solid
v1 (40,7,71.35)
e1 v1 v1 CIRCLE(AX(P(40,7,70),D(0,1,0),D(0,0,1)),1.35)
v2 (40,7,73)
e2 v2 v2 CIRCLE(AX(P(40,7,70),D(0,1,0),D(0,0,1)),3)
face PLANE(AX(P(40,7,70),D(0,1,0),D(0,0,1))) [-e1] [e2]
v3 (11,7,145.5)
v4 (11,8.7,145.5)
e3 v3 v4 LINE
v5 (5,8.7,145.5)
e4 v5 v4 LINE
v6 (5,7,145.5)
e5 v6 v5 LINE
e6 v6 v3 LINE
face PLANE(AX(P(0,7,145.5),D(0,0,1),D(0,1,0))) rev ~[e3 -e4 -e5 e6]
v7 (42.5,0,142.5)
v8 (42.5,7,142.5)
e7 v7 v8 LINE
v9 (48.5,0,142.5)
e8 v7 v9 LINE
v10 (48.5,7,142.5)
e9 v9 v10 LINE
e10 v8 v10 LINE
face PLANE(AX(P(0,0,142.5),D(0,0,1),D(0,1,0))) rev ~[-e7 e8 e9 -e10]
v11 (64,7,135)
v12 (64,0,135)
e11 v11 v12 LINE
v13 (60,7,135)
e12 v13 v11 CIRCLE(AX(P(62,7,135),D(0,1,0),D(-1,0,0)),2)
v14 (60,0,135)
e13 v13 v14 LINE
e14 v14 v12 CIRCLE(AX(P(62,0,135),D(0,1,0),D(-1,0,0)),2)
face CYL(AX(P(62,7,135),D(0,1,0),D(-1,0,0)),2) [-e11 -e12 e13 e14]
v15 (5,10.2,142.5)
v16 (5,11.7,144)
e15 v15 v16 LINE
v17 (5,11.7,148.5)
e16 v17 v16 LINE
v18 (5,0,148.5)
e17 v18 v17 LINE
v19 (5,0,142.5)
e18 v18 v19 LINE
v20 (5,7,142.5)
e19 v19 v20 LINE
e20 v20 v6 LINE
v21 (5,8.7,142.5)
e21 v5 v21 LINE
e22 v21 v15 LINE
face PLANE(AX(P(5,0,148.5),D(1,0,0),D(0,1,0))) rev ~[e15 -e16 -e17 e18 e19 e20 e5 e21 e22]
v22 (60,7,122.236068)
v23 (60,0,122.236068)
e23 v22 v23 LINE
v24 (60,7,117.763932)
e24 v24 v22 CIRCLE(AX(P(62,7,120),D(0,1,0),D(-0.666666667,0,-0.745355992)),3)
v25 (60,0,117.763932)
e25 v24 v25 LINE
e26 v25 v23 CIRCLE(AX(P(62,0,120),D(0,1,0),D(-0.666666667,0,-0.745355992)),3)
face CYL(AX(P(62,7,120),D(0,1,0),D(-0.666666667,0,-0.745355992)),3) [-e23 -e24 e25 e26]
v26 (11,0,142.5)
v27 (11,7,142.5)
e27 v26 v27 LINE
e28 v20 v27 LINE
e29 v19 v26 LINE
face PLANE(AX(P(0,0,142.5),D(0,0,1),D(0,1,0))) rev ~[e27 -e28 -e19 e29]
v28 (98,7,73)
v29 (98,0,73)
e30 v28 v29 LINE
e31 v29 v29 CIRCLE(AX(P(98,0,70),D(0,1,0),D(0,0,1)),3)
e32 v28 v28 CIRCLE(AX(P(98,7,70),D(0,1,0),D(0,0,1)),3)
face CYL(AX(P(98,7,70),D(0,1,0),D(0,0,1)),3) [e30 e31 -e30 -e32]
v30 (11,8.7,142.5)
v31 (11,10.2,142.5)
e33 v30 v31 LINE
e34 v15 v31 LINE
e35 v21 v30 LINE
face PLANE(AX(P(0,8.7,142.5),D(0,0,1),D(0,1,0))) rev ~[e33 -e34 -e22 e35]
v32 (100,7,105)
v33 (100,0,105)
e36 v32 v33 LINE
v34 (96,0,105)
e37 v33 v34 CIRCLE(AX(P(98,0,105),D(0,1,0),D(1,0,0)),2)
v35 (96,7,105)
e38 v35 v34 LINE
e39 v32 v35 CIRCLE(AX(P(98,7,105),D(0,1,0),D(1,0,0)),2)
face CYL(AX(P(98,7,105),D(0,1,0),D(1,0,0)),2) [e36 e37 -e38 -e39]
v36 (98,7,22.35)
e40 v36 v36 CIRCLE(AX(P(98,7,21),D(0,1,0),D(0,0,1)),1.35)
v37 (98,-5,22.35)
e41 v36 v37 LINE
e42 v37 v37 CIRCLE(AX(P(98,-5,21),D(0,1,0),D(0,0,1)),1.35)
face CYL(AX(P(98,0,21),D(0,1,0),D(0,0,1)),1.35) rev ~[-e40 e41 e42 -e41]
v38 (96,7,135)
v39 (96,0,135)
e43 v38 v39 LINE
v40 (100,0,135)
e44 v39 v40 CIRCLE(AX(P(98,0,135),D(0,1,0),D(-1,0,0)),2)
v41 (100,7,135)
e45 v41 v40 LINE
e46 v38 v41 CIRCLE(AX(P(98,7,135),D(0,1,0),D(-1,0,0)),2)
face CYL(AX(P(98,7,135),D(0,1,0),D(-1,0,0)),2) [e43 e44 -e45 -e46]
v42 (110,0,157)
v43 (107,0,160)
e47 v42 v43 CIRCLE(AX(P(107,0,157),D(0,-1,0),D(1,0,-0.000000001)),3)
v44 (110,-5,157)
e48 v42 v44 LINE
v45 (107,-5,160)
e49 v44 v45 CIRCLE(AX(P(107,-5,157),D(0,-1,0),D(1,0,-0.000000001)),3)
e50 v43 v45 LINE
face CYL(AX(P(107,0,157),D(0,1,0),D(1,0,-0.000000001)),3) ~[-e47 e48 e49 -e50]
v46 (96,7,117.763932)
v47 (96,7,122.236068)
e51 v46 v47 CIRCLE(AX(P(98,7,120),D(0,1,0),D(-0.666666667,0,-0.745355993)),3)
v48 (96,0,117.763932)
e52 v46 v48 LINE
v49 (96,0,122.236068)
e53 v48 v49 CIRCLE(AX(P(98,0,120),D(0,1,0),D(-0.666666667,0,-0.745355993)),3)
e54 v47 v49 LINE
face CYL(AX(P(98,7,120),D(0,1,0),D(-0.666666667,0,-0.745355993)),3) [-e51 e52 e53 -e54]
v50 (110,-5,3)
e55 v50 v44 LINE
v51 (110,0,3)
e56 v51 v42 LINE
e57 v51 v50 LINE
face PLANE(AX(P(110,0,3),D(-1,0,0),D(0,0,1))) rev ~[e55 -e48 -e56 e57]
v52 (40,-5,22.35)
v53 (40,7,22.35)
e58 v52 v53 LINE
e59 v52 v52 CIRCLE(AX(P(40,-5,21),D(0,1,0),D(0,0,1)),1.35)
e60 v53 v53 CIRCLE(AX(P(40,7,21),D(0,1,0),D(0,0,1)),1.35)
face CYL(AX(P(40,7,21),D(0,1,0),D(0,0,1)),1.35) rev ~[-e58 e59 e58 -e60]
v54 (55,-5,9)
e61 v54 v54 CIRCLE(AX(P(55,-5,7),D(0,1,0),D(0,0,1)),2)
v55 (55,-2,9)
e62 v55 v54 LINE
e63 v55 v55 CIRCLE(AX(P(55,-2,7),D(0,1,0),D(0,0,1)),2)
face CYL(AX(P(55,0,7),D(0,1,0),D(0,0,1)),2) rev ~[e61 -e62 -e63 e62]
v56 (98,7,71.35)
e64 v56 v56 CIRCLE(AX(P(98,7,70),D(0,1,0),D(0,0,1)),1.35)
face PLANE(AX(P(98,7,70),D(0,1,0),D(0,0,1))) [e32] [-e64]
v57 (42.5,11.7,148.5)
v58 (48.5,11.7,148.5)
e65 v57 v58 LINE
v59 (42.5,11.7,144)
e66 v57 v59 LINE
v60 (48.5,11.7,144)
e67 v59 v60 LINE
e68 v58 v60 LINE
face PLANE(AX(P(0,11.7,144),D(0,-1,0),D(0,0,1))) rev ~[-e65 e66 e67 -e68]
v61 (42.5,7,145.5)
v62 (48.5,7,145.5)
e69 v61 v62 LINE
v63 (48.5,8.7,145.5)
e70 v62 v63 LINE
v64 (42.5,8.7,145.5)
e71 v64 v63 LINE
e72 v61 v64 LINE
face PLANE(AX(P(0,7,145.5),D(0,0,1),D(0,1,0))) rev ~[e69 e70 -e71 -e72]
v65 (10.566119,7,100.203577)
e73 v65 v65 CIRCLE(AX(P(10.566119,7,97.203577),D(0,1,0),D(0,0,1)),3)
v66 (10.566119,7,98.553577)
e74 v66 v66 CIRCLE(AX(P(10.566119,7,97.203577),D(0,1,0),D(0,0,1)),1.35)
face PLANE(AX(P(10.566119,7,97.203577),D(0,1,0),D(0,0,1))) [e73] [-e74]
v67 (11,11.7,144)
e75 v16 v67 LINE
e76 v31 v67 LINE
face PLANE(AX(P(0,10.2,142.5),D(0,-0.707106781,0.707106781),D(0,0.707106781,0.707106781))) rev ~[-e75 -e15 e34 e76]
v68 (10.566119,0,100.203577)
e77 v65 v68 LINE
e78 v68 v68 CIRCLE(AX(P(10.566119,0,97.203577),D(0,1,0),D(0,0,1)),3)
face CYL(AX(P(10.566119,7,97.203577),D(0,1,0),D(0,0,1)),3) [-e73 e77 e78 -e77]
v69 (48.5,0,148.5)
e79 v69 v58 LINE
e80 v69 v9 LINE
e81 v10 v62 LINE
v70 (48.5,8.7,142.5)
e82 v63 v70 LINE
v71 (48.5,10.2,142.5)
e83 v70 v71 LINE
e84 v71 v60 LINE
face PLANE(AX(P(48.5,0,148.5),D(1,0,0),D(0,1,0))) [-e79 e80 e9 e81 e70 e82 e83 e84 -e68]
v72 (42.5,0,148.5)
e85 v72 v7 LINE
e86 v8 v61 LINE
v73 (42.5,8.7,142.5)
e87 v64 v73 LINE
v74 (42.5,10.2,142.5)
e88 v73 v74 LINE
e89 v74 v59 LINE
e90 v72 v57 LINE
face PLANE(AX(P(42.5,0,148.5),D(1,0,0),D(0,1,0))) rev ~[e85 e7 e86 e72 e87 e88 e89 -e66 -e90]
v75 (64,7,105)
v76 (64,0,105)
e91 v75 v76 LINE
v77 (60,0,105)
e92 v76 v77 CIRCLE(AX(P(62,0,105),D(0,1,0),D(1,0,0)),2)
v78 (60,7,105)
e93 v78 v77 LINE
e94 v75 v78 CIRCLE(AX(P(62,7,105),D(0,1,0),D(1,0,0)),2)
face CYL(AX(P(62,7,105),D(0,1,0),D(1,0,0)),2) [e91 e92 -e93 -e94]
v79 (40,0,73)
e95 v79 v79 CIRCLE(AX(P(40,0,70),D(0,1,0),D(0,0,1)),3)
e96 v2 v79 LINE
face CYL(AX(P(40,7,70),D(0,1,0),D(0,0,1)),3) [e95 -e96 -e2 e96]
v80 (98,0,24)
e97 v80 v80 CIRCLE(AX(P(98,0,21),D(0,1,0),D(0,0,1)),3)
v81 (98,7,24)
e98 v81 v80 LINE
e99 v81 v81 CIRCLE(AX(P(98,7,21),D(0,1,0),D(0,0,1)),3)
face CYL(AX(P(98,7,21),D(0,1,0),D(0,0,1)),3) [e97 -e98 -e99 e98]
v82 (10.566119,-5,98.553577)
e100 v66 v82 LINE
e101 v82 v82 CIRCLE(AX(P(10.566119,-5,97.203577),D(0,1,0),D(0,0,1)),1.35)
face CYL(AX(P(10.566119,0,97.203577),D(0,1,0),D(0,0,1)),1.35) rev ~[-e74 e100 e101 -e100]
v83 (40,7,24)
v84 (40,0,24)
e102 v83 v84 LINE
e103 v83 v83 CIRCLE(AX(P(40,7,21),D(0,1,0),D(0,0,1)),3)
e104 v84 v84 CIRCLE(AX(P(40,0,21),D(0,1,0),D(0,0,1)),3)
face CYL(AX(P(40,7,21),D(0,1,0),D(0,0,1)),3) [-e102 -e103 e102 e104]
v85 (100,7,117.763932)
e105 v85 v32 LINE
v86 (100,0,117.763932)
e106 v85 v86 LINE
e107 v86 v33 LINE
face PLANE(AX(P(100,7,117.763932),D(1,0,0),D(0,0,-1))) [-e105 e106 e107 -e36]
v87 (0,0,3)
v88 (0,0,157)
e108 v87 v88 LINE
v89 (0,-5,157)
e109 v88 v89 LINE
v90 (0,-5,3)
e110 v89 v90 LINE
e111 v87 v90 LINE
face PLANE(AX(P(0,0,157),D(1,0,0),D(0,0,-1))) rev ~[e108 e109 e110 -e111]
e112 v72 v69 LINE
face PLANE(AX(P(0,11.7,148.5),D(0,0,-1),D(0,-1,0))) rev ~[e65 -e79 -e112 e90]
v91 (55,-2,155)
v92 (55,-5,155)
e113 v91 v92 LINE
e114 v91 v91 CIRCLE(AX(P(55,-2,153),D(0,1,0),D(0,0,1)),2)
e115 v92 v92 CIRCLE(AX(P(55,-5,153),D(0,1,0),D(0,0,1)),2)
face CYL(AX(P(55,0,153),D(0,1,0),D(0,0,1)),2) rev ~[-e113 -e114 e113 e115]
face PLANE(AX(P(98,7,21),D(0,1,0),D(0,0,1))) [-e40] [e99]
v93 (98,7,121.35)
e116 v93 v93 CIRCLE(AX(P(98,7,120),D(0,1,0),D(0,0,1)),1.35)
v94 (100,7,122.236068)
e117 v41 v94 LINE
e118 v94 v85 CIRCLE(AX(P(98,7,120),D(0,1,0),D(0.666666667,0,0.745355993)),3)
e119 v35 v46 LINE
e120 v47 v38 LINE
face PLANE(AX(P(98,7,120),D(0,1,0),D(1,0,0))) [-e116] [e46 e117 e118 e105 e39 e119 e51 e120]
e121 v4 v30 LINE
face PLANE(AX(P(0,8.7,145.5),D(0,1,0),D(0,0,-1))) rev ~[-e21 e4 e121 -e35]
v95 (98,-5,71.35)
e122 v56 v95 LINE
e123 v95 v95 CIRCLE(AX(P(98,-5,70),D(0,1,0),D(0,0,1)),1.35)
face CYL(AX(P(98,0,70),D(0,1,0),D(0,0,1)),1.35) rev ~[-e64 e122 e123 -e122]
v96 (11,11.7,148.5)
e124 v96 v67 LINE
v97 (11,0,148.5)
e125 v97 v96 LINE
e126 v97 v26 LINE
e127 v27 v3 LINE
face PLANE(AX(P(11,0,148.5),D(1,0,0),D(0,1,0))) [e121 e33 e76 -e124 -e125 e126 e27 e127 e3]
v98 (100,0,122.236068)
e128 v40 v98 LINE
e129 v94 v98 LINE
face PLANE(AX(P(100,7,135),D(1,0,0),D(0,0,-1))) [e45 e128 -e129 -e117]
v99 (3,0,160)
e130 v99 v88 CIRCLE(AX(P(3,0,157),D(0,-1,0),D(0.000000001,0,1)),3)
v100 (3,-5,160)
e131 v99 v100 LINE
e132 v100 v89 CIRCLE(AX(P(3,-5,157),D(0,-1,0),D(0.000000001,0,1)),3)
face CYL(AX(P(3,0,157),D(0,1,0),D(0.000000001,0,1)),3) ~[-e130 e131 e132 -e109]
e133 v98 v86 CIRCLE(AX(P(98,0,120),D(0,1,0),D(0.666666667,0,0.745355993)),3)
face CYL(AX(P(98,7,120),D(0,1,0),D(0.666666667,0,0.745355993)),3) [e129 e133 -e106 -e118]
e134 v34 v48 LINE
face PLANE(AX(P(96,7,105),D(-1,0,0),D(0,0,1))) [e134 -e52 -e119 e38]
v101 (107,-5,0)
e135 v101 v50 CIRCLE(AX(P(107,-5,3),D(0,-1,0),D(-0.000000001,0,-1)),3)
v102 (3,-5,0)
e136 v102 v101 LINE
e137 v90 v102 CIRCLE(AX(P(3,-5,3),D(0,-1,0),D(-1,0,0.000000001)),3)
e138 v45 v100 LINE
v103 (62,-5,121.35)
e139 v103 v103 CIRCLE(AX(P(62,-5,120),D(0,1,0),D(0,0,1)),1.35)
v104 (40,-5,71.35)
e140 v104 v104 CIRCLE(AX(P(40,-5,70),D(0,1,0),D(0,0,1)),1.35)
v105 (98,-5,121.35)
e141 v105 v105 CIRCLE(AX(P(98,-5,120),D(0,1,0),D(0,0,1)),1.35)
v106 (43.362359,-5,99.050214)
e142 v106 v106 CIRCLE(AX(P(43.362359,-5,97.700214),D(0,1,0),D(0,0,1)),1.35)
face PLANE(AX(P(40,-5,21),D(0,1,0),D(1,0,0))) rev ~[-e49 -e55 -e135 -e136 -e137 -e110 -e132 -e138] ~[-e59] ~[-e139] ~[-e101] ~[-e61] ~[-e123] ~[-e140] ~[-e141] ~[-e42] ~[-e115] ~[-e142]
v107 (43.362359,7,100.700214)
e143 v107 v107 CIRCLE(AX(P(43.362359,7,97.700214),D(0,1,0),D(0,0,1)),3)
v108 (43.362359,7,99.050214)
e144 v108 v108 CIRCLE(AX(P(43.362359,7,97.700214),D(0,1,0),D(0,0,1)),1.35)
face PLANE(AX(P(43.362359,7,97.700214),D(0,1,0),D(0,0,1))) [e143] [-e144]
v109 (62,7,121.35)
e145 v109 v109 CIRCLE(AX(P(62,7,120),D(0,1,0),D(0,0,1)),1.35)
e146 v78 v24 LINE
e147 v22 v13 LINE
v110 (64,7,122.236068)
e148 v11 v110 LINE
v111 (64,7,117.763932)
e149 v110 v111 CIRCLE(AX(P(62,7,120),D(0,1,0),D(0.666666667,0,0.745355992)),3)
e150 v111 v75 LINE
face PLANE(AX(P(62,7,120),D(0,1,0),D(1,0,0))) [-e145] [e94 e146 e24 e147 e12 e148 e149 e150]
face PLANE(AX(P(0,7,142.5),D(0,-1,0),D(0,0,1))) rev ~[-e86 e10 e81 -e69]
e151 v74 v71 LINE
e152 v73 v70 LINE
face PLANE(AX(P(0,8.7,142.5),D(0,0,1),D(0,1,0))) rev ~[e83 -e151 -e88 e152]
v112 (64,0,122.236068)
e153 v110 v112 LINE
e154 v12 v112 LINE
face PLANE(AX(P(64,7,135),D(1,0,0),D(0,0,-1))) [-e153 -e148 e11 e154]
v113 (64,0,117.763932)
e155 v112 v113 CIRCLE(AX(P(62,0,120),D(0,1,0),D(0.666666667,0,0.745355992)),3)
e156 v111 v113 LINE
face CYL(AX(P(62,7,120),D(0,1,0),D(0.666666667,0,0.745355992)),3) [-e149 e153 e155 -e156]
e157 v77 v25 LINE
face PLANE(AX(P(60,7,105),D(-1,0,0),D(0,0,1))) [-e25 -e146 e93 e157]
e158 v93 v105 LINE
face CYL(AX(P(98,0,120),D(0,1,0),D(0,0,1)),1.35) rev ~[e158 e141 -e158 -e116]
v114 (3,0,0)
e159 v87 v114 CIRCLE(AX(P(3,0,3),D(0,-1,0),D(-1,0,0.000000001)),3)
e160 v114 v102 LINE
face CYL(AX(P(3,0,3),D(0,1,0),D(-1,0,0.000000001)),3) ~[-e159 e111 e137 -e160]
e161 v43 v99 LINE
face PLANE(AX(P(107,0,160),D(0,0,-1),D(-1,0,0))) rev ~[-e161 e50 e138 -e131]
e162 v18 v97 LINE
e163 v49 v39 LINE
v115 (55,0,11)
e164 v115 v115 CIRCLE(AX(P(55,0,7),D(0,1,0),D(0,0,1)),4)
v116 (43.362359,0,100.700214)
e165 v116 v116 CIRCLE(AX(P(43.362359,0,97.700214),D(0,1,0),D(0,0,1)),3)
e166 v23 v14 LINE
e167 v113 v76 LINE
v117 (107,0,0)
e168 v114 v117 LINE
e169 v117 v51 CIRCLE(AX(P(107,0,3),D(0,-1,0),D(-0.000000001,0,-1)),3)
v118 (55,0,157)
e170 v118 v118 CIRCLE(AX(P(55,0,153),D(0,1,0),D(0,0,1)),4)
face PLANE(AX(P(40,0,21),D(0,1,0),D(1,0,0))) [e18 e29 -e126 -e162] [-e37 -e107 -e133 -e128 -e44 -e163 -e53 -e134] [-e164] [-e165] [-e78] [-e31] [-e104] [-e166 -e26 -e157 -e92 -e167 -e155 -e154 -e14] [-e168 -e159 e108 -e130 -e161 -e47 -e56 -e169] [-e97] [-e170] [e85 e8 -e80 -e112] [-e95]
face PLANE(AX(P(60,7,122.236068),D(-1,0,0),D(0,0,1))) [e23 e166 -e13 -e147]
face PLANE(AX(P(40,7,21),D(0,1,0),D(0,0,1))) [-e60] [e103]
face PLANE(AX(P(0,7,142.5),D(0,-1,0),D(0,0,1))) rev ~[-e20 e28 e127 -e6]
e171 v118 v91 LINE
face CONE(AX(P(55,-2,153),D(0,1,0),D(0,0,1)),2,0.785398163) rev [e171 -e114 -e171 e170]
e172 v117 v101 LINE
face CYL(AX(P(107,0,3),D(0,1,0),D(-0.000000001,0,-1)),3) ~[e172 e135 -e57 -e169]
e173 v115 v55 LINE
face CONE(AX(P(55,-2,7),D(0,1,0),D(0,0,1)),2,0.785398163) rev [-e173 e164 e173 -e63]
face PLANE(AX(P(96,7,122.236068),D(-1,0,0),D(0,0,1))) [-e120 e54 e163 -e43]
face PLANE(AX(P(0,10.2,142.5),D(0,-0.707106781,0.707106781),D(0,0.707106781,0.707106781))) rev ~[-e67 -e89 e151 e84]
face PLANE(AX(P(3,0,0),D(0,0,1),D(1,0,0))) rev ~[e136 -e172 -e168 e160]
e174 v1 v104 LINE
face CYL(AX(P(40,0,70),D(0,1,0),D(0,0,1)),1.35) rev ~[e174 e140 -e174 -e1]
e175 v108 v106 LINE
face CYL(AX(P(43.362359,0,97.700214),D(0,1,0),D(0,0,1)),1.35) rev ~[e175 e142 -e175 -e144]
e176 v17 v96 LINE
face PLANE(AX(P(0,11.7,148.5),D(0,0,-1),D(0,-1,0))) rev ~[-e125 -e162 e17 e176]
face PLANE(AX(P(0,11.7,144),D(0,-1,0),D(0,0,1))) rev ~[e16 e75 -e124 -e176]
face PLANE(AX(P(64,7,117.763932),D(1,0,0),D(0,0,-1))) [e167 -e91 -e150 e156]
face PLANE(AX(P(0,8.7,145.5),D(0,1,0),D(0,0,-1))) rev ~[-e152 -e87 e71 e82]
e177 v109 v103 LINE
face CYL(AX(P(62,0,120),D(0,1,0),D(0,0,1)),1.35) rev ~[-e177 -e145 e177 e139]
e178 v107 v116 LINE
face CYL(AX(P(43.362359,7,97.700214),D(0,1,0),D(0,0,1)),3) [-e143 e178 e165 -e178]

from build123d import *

# Parameters (mm, degrees)
SKETCH_1_R          = 2
SKETCH_1_R_2        = 1.35
EXTRUDE_1_DEPTH     = 5
EXTRUDE_START       = 7
SKETCH_1_3_R        = 1.35
SKETCH_1_3_R_2      = 3
EXTRUDE_2_DEPTH     = 7
CHAMFER_1_SIZE      = 2
CHAMFER_2_SIZE      = 2
EXTRUDE_3_DEPTH     = 50
SKETCH_4_W          = 5
SKETCH_4_H          = 11.7
SKETCH_4_W_2        = 31.5
SKETCH_4_W_3        = 1.5
CUT_EXTRUDE_1_DEPTH = 12


with BuildPart() as part:
    # 草图1 → 凸台-拉伸1 (new body)
    with BuildSketch(Plane(origin=(0, 0, 0), x_dir=(1, 0, 0), z_dir=(0, 1, 0))):
        with BuildLine():
            Line((107, 0), (3, 0))
            ThreePointArc((3, 0), (0.878679656, -0.878679656), (0, -3))
            Line((0, -3), (0, -157))
            ThreePointArc((0, -157), (0.878679656, -159.121320344), (3, -160))
            Line((3, -160), (107, -160))
            ThreePointArc((107, -160), (109.121320344, -159.121320344), (110, -157))
            Line((110, -157), (110, -3))
            ThreePointArc((110, -3), (109.121320344, -0.878679656), (107, 0))
        make_face()
        with Locations((55, -153)):
            Circle(SKETCH_1_R, mode=Mode.SUBTRACT)
        with Locations((55, -7)):
            Circle(SKETCH_1_R, mode=Mode.SUBTRACT)
        with Locations((10.566119403, -97.203577053)):
            Circle(SKETCH_1_R_2, mode=Mode.SUBTRACT)
        with Locations((43.362359308, -97.700213826)):
            Circle(SKETCH_1_R_2, mode=Mode.SUBTRACT)
        with Locations((62, -120)):
            Circle(SKETCH_1_R_2, mode=Mode.SUBTRACT)
        with Locations((98, -120)):
            Circle(SKETCH_1_R_2, mode=Mode.SUBTRACT)
        with Locations((40, -70)):
            Circle(SKETCH_1_R_2, mode=Mode.SUBTRACT)
        with Locations((40, -21)):
            Circle(SKETCH_1_R_2, mode=Mode.SUBTRACT)
        with Locations((98, -70)):
            Circle(SKETCH_1_R_2, mode=Mode.SUBTRACT)
        with Locations((98, -21)):
            Circle(SKETCH_1_R_2, mode=Mode.SUBTRACT)
    extrude(amount=-EXTRUDE_1_DEPTH)

    # 草图1<3> → 凸台-拉伸2 (add)
    # profile 1 of 8: a face of its own
    with BuildSketch(Plane(origin=(0, 0, 0), x_dir=(1, 0, 0), z_dir=(0, 1, 0)).offset(EXTRUDE_START)):
        with BuildLine():
            Line((100, -135), (100, -122.236067977))
            ThreePointArc((100, -122.236067977), (101, -120), (100, -117.763932023))
            Line((100, -117.763932023), (100, -105))
            ThreePointArc((100, -105), (98, -103), (96, -105))
            Line((96, -105), (96, -117.763932023))
            ThreePointArc((96, -117.763932023), (95, -120), (96, -122.236067977))
            Line((96, -122.236067977), (96, -135))
            ThreePointArc((96, -135), (98, -137), (100, -135))
        make_face()
        with Locations((98, -120)):
            Circle(SKETCH_1_3_R, mode=Mode.SUBTRACT)
    # profile 2 of 8: a face of its own
    with BuildSketch(Plane(origin=(0, 0, 0), x_dir=(1, 0, 0), z_dir=(0, 1, 0)).offset(EXTRUDE_START)):
        with BuildLine():
            Line((64, -135), (64, -122.236067978))
            ThreePointArc((64, -122.236067978), (65, -120), (64, -117.763932023))
            Line((64, -117.763932023), (64, -105))
            ThreePointArc((64, -105), (62, -103), (60, -105))
            Line((60, -105), (60, -117.763932023))
            ThreePointArc((60, -117.763932023), (59, -120), (60, -122.236067978))
            Line((60, -122.236067978), (60, -135))
            ThreePointArc((60, -135), (62, -137), (64, -135))
        make_face()
        with Locations((62, -120)):
            Circle(SKETCH_1_3_R, mode=Mode.SUBTRACT)
    # profile 3 of 8: a face of its own
    with BuildSketch(Plane(origin=(0, 0, 0), x_dir=(1, 0, 0), z_dir=(0, 1, 0)).offset(EXTRUDE_START)):
        with Locations((98, -21)):
            Circle(SKETCH_1_3_R_2)
        with Locations((98, -21)):
            Circle(SKETCH_1_3_R, mode=Mode.SUBTRACT)
    # profile 4 of 8: a face of its own
    with BuildSketch(Plane(origin=(0, 0, 0), x_dir=(1, 0, 0), z_dir=(0, 1, 0)).offset(EXTRUDE_START)):
        with Locations((40, -21)):
            Circle(SKETCH_1_3_R_2)
        with Locations((40, -21)):
            Circle(SKETCH_1_3_R, mode=Mode.SUBTRACT)
    # profile 5 of 8: a face of its own
    with BuildSketch(Plane(origin=(0, 0, 0), x_dir=(1, 0, 0), z_dir=(0, 1, 0)).offset(EXTRUDE_START)):
        with Locations((40, -70)):
            Circle(SKETCH_1_3_R_2)
        with Locations((40, -70)):
            Circle(SKETCH_1_3_R, mode=Mode.SUBTRACT)
    # profile 6 of 8: a face of its own
    with BuildSketch(Plane(origin=(0, 0, 0), x_dir=(1, 0, 0), z_dir=(0, 1, 0)).offset(EXTRUDE_START)):
        with Locations((98, -70)):
            Circle(SKETCH_1_3_R_2)
        with Locations((98, -70)):
            Circle(SKETCH_1_3_R, mode=Mode.SUBTRACT)
    # profile 7 of 8: a face of its own
    with BuildSketch(Plane(origin=(0, 0, 0), x_dir=(1, 0, 0), z_dir=(0, 1, 0)).offset(EXTRUDE_START)):
        with Locations((10.566119403, -97.203577053)):
            Circle(SKETCH_1_3_R_2)
        with Locations((10.566119403, -97.203577053)):
            Circle(SKETCH_1_3_R, mode=Mode.SUBTRACT)
    # profile 8 of 8: a face of its own
    with BuildSketch(Plane(origin=(0, 0, 0), x_dir=(1, 0, 0), z_dir=(0, 1, 0)).offset(EXTRUDE_START)):
        with Locations((43.362359308, -97.700213826)):
            Circle(SKETCH_1_3_R_2)
        with Locations((43.362359308, -97.700213826)):
            Circle(SKETCH_1_3_R, mode=Mode.SUBTRACT)
    extrude(amount=-EXTRUDE_2_DEPTH)

    # 倒角1
    chamfer_1_edges = [part.edges().sort_by_distance(p)[0] for p in [
        (53, 0, 7),
    ]]
    chamfer(chamfer_1_edges, length=CHAMFER_1_SIZE)

    # 倒角2
    chamfer_2_edges = [part.edges().sort_by_distance(p)[0] for p in [
        (53, 0, 153),
    ]]
    chamfer(chamfer_2_edges, length=CHAMFER_2_SIZE)

    # 草图3 → 凸台-拉伸3 (add)
    with BuildSketch(Plane.ZY):
        Polygon((142.5, 0), (142.5, 7), (145.5, 7), (145.5, 8.7), (142.5, 8.7), (142.5, 10.2), (144, 11.7), (148.5, 11.7), (148.5, 0), align=None)
    extrude(amount=-EXTRUDE_3_DEPTH)

    # 草图4 → 切除-拉伸1 (cut)
    with BuildSketch(Plane.XY.offset(148.5)):
        with Locations((2.5, 5.85)):
            Rectangle(SKETCH_4_W, SKETCH_4_H)
        with Locations((26.75, 5.85)):
            Rectangle(SKETCH_4_W_2, SKETCH_4_H)
        with Locations((49.25, 5.85)):
            Rectangle(SKETCH_4_W_3, SKETCH_4_H)
    extrude(amount=-CUT_EXTRUDE_1_DEPTH, mode=Mode.SUBTRACT)


solid = part.part
